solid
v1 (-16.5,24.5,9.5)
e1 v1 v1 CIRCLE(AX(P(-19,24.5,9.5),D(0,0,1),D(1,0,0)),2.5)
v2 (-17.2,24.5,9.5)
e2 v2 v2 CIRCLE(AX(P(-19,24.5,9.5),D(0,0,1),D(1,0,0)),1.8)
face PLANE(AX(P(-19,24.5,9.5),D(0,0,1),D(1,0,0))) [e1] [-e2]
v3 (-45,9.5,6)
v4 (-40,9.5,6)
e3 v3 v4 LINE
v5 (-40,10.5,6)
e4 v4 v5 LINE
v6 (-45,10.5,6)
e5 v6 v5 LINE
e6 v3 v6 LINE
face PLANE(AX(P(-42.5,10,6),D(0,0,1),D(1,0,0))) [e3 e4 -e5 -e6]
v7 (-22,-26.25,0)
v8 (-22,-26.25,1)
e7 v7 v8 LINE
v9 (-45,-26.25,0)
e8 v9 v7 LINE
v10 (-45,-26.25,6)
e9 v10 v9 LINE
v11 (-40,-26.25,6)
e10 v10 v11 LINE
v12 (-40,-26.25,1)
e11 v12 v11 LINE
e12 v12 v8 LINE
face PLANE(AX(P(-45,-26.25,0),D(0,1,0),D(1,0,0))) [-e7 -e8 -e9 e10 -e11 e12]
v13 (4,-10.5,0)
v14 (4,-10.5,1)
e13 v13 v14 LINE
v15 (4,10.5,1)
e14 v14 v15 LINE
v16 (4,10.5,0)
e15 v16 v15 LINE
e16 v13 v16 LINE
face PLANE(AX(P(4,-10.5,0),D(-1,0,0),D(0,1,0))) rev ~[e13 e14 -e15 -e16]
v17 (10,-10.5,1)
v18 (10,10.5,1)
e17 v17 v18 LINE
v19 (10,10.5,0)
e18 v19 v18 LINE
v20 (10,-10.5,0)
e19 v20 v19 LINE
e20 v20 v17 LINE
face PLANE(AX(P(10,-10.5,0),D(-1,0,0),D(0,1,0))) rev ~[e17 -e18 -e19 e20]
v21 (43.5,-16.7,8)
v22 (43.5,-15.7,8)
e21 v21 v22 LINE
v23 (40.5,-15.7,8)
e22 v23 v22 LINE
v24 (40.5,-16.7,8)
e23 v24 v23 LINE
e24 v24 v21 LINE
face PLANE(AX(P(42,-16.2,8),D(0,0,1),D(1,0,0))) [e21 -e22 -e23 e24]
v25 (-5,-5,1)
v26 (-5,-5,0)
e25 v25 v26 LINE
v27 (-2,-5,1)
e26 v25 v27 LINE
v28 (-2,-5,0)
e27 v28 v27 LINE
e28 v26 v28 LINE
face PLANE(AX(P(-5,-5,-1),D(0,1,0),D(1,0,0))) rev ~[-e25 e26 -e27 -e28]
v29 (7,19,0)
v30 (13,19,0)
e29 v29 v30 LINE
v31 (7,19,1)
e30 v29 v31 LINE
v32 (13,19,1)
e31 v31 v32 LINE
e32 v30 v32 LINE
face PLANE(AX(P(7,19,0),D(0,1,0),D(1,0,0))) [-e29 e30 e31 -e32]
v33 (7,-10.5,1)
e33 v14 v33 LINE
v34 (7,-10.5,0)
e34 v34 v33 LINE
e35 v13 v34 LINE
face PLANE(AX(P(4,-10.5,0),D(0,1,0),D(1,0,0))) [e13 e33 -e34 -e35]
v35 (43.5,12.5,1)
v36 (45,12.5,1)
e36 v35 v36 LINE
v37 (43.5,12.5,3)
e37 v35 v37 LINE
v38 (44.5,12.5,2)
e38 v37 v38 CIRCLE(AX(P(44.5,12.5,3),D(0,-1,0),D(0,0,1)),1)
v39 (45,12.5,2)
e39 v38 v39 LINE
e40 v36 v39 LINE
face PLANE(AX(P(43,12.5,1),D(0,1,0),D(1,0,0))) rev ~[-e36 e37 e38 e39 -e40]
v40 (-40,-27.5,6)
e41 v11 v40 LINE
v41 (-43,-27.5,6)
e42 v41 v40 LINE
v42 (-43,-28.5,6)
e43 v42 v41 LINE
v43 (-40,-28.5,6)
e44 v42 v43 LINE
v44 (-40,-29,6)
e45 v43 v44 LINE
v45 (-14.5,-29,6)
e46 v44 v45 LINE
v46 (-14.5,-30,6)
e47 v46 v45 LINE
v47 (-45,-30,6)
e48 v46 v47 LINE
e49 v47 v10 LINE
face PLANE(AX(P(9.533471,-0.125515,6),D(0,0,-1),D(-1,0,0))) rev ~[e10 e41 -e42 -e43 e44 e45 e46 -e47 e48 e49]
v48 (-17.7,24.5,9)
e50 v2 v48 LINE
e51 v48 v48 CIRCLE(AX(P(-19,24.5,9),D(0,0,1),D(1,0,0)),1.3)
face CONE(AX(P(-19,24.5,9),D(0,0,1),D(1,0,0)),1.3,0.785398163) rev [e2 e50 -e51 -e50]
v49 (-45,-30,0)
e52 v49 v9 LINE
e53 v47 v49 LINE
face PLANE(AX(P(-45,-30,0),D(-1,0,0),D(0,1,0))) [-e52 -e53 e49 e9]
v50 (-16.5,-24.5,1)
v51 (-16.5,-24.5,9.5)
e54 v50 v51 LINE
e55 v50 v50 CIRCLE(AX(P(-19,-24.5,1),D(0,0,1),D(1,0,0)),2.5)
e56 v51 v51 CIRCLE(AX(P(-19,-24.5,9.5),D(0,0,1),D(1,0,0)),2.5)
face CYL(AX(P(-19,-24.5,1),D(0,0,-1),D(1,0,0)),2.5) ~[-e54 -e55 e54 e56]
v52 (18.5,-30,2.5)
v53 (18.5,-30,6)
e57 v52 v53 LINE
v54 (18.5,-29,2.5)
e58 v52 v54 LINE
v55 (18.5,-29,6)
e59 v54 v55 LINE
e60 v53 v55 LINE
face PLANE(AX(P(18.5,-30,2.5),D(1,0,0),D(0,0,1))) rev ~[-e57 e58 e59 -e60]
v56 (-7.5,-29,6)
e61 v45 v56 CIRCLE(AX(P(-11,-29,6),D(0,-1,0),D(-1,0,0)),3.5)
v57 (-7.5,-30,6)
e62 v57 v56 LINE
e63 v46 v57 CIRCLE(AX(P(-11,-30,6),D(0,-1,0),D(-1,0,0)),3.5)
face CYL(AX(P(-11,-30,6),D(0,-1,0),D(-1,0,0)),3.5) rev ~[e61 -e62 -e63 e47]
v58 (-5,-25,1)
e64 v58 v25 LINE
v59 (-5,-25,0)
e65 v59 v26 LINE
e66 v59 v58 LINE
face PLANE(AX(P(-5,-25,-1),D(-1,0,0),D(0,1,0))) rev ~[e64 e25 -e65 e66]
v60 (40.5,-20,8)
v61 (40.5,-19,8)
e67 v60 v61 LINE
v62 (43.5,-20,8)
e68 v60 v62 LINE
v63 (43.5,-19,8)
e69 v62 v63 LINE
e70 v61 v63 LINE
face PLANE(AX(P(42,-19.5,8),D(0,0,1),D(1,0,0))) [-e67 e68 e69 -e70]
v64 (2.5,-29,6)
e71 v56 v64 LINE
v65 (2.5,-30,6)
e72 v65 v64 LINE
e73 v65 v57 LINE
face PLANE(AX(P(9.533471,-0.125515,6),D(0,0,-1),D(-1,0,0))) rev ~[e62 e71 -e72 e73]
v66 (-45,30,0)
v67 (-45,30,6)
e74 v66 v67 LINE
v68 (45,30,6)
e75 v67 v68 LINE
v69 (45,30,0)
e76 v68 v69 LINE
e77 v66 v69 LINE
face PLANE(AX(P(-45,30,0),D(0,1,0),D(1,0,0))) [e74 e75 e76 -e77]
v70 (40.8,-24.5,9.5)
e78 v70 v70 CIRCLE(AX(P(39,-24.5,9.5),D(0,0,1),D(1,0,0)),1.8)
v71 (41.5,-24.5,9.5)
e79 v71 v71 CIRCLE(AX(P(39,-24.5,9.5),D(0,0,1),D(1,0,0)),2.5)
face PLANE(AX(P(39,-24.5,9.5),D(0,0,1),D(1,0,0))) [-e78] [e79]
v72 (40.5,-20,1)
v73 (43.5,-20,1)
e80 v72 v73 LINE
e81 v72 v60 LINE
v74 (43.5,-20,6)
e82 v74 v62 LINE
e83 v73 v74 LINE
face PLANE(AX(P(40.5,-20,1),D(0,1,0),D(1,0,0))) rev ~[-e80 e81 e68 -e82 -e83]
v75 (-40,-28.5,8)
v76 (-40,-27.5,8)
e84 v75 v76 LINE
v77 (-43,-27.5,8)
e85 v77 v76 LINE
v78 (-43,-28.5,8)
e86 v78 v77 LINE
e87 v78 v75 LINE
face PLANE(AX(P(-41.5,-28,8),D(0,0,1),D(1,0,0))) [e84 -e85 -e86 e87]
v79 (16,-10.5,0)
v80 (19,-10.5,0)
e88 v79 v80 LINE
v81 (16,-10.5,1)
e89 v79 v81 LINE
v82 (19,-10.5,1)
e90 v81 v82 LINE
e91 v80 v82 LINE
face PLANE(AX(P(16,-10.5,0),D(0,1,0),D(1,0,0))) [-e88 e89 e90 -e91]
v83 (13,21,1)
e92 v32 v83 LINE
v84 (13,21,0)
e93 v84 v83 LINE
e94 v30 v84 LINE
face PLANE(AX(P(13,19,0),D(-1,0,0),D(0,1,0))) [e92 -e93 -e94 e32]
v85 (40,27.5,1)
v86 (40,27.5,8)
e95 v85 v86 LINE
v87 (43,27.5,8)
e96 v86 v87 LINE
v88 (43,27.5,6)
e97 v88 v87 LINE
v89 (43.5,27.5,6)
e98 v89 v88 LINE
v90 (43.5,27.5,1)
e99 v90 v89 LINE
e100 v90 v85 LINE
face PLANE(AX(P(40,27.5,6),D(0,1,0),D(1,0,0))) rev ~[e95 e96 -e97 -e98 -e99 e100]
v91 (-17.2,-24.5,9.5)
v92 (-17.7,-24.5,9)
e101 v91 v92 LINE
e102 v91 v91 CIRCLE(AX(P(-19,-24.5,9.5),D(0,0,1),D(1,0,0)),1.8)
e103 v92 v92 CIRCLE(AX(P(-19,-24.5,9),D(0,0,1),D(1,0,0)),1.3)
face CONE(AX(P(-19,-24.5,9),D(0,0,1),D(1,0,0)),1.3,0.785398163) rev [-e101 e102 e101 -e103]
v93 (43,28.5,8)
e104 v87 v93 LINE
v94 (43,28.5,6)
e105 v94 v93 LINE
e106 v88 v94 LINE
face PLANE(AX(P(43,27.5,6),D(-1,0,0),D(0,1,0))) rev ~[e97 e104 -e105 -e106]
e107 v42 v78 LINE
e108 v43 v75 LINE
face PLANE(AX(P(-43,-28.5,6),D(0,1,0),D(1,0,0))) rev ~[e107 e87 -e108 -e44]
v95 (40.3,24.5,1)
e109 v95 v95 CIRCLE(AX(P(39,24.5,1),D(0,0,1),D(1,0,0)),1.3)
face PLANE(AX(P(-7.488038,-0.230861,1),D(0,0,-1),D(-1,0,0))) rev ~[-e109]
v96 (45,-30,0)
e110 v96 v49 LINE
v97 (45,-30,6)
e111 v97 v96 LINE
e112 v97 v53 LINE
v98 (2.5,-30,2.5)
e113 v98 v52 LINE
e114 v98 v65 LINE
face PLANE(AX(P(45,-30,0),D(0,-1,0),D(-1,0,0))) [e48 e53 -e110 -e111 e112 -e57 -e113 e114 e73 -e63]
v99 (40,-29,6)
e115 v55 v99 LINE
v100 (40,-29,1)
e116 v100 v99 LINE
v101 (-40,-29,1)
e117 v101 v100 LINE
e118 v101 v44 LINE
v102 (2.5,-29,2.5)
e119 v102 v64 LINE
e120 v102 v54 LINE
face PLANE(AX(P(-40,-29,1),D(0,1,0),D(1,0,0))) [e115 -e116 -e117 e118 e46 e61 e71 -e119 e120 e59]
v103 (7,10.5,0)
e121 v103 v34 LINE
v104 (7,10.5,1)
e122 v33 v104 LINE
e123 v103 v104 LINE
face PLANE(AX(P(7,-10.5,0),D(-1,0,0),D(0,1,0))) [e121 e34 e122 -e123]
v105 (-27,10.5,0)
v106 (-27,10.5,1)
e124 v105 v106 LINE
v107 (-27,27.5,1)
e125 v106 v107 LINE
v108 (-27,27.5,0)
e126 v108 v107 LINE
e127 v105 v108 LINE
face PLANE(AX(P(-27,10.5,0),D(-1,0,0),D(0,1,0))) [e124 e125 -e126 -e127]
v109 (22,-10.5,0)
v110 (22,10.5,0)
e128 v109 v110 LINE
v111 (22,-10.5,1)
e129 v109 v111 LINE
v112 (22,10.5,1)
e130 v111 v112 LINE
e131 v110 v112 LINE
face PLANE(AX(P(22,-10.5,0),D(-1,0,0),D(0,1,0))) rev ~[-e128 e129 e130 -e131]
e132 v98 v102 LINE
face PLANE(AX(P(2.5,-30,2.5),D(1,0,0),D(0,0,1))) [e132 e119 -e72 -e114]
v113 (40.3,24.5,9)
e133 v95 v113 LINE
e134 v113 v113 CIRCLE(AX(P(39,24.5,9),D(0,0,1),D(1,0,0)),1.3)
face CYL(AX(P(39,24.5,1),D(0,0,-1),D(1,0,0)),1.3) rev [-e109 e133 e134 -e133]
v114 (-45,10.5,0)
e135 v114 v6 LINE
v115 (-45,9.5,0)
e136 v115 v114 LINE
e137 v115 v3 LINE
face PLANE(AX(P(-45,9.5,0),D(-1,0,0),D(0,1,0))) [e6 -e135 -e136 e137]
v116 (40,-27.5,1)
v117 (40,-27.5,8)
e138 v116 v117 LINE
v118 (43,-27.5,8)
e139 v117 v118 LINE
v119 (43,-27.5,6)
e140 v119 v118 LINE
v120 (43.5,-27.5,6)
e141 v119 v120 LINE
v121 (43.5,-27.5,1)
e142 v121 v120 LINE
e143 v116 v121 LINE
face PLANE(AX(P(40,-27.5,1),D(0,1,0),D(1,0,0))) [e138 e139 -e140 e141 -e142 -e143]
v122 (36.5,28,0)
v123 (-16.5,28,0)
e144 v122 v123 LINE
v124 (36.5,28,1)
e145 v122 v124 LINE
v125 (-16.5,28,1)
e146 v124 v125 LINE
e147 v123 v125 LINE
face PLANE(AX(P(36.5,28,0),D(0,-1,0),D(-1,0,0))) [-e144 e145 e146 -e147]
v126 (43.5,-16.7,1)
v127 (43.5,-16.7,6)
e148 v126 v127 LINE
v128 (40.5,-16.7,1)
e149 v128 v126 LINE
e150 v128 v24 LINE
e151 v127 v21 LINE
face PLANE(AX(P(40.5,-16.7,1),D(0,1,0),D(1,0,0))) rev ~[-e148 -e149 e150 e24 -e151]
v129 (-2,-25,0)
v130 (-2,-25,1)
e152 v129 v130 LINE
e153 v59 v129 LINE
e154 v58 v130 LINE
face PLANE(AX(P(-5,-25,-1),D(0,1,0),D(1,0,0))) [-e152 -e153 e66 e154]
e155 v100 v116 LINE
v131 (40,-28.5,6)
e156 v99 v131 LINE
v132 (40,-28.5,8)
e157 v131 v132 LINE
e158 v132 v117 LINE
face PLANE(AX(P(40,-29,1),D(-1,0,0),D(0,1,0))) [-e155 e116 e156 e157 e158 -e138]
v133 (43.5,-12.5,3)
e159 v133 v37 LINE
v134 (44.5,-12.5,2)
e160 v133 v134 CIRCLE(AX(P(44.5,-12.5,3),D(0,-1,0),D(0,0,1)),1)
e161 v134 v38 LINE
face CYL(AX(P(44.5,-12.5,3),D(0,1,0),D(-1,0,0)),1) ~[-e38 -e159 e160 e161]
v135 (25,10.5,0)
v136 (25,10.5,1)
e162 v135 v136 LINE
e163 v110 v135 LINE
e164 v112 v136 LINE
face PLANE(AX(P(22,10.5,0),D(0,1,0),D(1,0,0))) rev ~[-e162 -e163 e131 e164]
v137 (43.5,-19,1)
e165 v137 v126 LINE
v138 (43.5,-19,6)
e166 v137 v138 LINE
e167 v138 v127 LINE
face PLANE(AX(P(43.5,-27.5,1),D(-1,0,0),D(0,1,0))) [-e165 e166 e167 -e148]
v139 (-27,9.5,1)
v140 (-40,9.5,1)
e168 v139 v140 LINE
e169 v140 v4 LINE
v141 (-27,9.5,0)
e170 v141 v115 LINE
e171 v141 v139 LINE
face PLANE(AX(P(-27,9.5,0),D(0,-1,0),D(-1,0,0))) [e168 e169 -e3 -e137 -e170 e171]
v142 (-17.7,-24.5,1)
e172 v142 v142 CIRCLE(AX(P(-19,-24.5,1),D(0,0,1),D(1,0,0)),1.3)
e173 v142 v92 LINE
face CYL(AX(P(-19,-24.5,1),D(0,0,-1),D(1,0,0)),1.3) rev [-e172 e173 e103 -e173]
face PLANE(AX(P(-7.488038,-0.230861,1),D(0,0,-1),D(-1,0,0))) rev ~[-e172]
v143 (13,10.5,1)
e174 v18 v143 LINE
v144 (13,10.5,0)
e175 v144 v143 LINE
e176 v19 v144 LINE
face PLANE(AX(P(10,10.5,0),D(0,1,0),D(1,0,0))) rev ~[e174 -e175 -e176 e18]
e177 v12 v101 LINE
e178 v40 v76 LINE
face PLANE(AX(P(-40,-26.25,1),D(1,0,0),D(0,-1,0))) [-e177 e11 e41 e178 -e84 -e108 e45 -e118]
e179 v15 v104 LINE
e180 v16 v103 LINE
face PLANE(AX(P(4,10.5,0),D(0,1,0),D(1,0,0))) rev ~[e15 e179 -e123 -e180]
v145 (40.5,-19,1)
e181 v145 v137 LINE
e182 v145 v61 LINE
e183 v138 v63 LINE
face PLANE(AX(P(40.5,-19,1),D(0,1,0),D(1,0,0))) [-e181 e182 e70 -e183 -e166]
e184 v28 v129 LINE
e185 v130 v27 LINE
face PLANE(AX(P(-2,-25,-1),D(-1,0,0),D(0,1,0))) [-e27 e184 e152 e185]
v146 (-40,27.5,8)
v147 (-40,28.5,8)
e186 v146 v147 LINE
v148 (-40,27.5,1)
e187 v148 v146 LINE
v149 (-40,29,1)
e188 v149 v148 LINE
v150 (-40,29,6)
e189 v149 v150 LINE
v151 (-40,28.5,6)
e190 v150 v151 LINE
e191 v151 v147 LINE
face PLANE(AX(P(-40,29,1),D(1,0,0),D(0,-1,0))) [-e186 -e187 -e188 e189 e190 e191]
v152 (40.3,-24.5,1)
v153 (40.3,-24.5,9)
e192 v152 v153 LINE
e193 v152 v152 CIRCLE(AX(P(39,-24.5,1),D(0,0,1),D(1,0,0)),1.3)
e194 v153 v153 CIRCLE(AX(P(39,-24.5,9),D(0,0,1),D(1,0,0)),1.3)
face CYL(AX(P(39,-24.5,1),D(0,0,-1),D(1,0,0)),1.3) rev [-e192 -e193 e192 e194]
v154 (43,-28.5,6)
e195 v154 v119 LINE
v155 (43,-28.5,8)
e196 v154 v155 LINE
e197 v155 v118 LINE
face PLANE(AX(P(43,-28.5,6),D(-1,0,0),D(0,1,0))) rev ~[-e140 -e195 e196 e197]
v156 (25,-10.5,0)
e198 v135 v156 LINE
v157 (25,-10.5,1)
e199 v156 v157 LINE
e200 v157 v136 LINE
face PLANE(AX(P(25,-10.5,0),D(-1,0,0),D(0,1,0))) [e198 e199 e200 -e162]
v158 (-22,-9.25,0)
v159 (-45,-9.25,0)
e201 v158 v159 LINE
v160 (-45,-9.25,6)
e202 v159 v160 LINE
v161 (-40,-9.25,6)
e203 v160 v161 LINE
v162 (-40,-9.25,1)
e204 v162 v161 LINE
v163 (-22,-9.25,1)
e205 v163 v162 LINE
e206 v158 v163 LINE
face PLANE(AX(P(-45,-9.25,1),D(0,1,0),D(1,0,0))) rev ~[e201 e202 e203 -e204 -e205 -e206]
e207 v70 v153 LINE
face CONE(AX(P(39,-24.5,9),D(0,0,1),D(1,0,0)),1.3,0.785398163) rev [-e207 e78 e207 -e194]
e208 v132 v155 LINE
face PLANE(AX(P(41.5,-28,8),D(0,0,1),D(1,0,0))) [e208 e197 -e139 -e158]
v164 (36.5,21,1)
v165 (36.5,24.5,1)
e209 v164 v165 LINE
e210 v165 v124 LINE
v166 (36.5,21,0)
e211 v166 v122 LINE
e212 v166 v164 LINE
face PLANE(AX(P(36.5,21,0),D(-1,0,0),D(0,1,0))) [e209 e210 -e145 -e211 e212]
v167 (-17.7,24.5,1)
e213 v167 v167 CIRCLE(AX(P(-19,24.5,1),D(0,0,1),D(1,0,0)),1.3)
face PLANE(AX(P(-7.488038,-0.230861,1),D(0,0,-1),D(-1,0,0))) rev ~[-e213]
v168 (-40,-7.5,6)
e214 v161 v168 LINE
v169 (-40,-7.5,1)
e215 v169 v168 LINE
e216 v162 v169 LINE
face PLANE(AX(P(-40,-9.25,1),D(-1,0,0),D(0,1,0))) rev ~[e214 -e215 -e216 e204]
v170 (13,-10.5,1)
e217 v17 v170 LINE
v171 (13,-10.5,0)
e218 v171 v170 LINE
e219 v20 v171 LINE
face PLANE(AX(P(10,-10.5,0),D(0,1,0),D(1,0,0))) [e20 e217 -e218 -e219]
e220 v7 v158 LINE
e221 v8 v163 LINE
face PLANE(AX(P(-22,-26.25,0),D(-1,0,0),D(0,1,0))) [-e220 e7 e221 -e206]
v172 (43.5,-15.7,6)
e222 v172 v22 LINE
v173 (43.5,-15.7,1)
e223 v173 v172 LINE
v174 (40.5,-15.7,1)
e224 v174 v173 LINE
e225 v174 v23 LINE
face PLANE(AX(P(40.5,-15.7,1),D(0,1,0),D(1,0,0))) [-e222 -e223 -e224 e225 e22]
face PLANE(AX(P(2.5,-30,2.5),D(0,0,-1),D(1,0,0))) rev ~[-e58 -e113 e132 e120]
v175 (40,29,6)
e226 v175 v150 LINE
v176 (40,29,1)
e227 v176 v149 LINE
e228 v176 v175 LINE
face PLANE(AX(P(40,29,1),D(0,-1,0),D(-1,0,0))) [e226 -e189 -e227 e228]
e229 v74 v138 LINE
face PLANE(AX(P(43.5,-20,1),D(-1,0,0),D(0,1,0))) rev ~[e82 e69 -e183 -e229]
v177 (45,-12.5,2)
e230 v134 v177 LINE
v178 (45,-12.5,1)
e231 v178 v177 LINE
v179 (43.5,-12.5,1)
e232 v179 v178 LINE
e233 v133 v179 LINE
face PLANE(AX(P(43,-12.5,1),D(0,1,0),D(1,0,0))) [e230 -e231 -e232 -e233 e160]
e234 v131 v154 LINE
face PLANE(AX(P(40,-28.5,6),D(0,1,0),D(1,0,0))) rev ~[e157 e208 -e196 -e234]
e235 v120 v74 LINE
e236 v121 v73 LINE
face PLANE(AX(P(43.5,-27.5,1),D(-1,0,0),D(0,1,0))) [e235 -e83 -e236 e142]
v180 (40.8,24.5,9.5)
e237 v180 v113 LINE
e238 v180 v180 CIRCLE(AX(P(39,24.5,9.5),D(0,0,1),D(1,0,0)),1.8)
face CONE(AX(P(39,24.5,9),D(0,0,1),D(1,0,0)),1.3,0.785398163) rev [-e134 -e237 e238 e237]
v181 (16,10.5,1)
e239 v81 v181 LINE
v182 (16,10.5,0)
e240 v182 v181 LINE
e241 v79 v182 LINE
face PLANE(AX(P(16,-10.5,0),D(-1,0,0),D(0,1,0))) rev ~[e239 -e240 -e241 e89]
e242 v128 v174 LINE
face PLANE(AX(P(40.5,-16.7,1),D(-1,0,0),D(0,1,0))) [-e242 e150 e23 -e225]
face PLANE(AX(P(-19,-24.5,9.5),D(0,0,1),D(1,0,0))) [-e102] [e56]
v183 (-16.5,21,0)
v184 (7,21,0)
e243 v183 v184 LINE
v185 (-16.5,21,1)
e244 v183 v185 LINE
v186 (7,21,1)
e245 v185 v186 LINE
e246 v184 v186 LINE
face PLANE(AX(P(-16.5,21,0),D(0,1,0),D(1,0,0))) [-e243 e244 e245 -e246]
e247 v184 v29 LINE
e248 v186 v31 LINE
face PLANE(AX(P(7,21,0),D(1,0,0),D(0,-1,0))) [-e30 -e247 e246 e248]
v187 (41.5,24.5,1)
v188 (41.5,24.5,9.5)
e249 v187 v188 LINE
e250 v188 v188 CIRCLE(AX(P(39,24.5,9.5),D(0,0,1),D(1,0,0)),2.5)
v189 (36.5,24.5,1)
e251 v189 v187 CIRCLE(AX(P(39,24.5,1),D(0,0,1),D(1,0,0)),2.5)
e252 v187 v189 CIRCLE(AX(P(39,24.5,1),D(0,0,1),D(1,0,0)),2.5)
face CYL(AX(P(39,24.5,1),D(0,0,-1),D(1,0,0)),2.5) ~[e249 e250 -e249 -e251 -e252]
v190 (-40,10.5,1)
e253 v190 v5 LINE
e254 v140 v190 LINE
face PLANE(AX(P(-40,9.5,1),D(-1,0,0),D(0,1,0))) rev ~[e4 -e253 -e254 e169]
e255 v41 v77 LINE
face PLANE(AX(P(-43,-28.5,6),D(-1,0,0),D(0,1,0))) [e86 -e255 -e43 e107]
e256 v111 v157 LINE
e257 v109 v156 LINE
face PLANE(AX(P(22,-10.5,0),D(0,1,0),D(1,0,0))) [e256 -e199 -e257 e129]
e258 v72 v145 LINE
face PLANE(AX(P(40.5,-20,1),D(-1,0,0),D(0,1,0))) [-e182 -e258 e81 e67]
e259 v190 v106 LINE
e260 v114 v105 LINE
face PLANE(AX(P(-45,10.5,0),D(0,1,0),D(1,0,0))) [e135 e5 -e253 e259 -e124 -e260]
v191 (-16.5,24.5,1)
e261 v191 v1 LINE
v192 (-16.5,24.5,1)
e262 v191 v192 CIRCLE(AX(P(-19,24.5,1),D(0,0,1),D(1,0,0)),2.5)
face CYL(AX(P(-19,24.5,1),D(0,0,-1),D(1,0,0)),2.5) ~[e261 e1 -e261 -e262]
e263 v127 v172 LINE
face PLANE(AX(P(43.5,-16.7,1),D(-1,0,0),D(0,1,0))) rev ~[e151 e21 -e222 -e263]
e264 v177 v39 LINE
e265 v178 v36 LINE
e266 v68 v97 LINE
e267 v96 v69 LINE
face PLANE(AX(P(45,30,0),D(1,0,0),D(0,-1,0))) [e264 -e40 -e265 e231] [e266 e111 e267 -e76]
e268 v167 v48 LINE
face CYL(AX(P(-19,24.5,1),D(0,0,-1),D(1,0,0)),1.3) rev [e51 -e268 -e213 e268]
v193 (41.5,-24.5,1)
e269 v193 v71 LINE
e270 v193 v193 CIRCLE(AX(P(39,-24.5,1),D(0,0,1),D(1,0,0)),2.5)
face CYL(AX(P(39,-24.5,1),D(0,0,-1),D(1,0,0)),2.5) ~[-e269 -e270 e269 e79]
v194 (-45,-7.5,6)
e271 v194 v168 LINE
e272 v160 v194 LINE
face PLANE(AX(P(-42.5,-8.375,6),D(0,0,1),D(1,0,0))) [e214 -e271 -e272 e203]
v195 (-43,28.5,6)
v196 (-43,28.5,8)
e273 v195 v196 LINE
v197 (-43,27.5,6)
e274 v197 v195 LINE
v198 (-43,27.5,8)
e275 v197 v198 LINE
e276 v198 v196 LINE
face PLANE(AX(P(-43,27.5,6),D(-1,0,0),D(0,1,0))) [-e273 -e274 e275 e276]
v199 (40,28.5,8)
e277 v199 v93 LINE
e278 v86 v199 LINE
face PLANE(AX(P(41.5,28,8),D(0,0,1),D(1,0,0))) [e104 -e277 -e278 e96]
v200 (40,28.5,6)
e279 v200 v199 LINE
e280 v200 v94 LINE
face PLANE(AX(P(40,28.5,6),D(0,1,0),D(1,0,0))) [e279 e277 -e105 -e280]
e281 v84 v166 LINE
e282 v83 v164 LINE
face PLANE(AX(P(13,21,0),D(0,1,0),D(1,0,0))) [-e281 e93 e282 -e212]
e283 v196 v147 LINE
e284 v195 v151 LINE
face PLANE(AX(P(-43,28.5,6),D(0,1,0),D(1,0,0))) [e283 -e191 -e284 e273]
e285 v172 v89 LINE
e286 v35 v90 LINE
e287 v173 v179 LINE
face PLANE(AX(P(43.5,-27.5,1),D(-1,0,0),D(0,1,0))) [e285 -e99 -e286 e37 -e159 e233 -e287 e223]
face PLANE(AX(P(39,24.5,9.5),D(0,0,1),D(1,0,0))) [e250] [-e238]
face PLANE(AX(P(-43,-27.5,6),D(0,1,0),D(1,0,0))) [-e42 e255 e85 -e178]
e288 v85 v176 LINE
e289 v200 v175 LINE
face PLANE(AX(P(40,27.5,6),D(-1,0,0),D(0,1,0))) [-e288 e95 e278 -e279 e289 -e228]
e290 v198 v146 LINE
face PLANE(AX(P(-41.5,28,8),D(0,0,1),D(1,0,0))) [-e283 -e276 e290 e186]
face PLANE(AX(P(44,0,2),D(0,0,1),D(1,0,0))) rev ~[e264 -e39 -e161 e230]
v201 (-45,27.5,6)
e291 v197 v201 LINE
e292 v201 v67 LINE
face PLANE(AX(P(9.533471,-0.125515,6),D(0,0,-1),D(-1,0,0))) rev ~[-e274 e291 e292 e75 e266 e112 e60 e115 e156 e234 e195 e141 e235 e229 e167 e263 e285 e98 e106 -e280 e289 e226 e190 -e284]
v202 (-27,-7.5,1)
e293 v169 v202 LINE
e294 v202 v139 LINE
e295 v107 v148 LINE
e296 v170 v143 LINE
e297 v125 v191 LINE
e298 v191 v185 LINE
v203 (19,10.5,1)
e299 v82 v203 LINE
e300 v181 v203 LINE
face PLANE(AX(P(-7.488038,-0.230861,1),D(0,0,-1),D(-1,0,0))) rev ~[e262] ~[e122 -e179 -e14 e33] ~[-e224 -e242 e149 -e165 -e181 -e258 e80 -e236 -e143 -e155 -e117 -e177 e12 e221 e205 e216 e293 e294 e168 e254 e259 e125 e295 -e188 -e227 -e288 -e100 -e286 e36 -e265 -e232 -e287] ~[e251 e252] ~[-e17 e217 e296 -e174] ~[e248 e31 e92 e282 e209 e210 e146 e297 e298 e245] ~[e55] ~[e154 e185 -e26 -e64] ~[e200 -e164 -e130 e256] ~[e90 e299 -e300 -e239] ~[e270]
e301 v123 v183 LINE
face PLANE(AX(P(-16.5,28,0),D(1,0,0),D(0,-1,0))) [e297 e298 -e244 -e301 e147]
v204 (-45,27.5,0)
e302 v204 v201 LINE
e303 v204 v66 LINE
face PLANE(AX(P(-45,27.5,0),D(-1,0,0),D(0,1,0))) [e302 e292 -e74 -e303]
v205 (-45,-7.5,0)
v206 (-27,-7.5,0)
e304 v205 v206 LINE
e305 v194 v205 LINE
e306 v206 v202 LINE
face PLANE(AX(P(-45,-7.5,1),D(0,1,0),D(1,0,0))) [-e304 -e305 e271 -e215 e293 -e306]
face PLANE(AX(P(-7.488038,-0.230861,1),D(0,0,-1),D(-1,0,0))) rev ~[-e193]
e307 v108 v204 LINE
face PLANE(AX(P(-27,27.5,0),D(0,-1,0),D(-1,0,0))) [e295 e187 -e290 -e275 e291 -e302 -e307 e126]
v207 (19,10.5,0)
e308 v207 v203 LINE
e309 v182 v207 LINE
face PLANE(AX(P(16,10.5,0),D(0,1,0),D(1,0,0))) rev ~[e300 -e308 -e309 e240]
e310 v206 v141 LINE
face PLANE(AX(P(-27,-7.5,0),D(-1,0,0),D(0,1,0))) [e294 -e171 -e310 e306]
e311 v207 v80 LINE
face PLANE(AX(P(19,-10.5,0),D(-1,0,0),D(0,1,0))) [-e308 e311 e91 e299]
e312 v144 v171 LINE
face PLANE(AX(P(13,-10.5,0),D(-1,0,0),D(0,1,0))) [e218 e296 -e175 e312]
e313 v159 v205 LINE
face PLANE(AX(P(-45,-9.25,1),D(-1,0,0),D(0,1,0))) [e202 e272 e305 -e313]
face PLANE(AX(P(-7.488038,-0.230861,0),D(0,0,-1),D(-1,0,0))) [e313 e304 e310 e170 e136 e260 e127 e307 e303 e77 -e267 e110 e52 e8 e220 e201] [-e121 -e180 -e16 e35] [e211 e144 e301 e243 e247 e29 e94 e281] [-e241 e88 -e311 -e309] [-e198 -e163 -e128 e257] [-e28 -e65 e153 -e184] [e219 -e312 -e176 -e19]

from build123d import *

# Parameters (mm, degrees)
BOX002_W      = 3
BOX002_H      = 20
BOX002_DEPTH  = 5
BOX001_W      = 51
BOX001_H      = 20
BOX001_DEPTH  = 1
BOX_W         = 2
BOX_H         = 25
BOX_DEPTH     = 1
SKETCH_W      = 3
SKETCH_H      = 21
PAD_DEPTH     = 1
SKETCH001_W   = 5
SKETCH001_H   = 1.75
SKETCH001_H_2 = 1
PAD001_DEPTH  = 5
SKETCH002_W   = 3
SKETCH002_H   = 1
PAD002_DEPTH  = 2
SKETCH003_R   = 2.5
SKETCH003_R_2 = 1.3
PAD003_DEPTH  = 8.5
SKETCH004_W   = 16
SKETCH004_H   = 3.5
POCKET_DEPTH  = 1
CHAMFER_SIZE  = 0.5
SKETCH005_W   = 3
SKETCH005_H   = 1
PAD004_DEPTH  = 7
FILLET_R      = 1


with BuildPart() as w_rfel002:
    # Box002 → Box002 (new body)
    with BuildSketch(Plane(origin=(-5, -25, -1), x_dir=(1, 0, 0), z_dir=(0, 0, 1))):
        with Locations((1.5, 10)):
            Rectangle(BOX002_W, BOX002_H)
    extrude(amount=BOX002_DEPTH)


with BuildPart() as wire_channel:
    # Box001 → Box001 (new body)
    with BuildSketch(Plane(origin=(-5, -25, -1), x_dir=(1, 0, 0), z_dir=(0, 0, 1))):
        with Locations((25.5, 10)):
            Rectangle(BOX001_W, BOX001_H)
    extrude(amount=BOX001_DEPTH)

    # Fusion: union Würfel002
    add(w_rfel002.part)


with BuildPart() as w_rfel:
    # Box → Box (new body)
    with BuildSketch(Plane(origin=(43, -12.5, 1), x_dir=(1, 0, 0), z_dir=(0, 0, 1))):
        with Locations((1, 12.5)):
            Rectangle(BOX_W, BOX_H)
    extrude(amount=BOX_DEPTH)


with BuildPart() as cut001:
    # Sketch → Pad (new body)
    with BuildSketch(Plane.XY):
        Polygon((-45, 30), (45, 30), (45, -30), (-45, -30), (-45, -26.25), (-22, -26.25), (-22, -9.25), (-45, -9.25), (-45, -7.5), (-27, -7.5), (-27, 9.5), (-45, 9.5), (-45, 10.5), (-27, 10.5), (-27, 27.5), (-45, 27.5), align=None)
        Polygon((36.5, 21), (36.5, 28), (-16.5, 28), (-16.5, 21), (7, 21), (7, 19), (13, 19), (13, 21), align=None, mode=Mode.SUBTRACT)
        with Locations((5.5, 0)):
            Rectangle(SKETCH_W, SKETCH_H, mode=Mode.SUBTRACT)
        with Locations((11.5, 0)):
            Rectangle(SKETCH_W, SKETCH_H, mode=Mode.SUBTRACT)
        with Locations((17.5, 0)):
            Rectangle(SKETCH_W, SKETCH_H, mode=Mode.SUBTRACT)
        with Locations((23.5, 0)):
            Rectangle(SKETCH_W, SKETCH_H, mode=Mode.SUBTRACT)
    extrude(amount=PAD_DEPTH)

    # Sketch001 (on Face42 of Pad) → Pad001 (new body)
    with BuildSketch(Plane.XY.offset(1)):
        with Locations((-42.5, -8.375)):
            Rectangle(SKETCH001_W, SKETCH001_H)
        with Locations((-42.5, 10)):
            Rectangle(SKETCH001_W, SKETCH001_H_2)
        Polygon((-45, 30), (45, 30), (45, -30), (-45, -30), (-45, -26.25), (-40, -26.25), (-40, -29), (40, -29), (40, -27.5), (43.5, -27.5), (43.5, 27.5), (40, 27.5), (40, 29), (-40, 29), (-40, 27.5), (-45, 27.5), align=None)
    extrude(amount=PAD001_DEPTH)

    # Sketch002 (on Face56 of Pad001) → Pad002 (new body)
    with BuildSketch(Plane.XY.offset(6)):
        with Locations((41.5, 28)):
            Rectangle(SKETCH002_W, SKETCH002_H)
        with Locations((-41.5, 28)):
            Rectangle(SKETCH002_W, SKETCH002_H)
        with Locations((-41.5, -28)):
            Rectangle(SKETCH002_W, SKETCH002_H)
        with Locations((41.5, -28)):
            Rectangle(SKETCH002_W, SKETCH002_H)
    extrude(amount=PAD002_DEPTH)

    # Sketch003 (on Face47 of Pad002) → Pad003 (new body)
    with BuildSketch(Plane.XY.offset(1)):
        with Locations((-19, 24.5)):
            Circle(SKETCH003_R)
        with Locations((-19, 24.5)):
            Circle(SKETCH003_R_2, mode=Mode.SUBTRACT)
        with Locations((39, 24.5)):
            Circle(SKETCH003_R)
        with Locations((39, 24.5)):
            Circle(SKETCH003_R_2, mode=Mode.SUBTRACT)
        with Locations((-19, -24.5)):
            Circle(SKETCH003_R)
        with Locations((-19, -24.5)):
            Circle(SKETCH003_R_2, mode=Mode.SUBTRACT)
        with Locations((39, -24.5)):
            Circle(SKETCH003_R)
        with Locations((39, -24.5)):
            Circle(SKETCH003_R_2, mode=Mode.SUBTRACT)
    extrude(amount=PAD003_DEPTH)

    # Sketch004 (on Face45 of Pad003) → Pocket (cut)
    with BuildSketch(Plane.XZ.offset(30)):
        with BuildLine():
            ThreePointArc((-14.5, 6), (-11, 2.5), (-7.5, 6))
            Line((-14.5, 6), (-7.5, 6))
        make_face()
        with Locations((10.5, 4.25)):
            Rectangle(SKETCH004_W, SKETCH004_H)
    extrude(amount=-POCKET_DEPTH, mode=Mode.SUBTRACT)

    # Chamfer
    chamfer_edges = [cut001.edges().sort_by_distance(p)[0] for p in [
        (-20.3, 24.5, 9.5),
        (37.7, 24.5, 9.5),
        (37.7, -24.5, 9.5),
        (-20.3, -24.5, 9.5),
    ]]
    chamfer(chamfer_edges, length=CHAMFER_SIZE)

    # Sketch005 (on Face5 of Chamfer) → Pad004 (new body)
    with BuildSketch(Plane.XY.offset(1)):
        with Locations((42, -16.2)):
            Rectangle(SKETCH005_W, SKETCH005_H)
        with Locations((42, -19.5)):
            Rectangle(SKETCH005_W, SKETCH005_H)
    extrude(amount=PAD004_DEPTH)

    # Cut: cut Würfel
    add(w_rfel.part, mode=Mode.SUBTRACT)

    # Fillet
    fillet_edges = [cut001.edges().sort_by_distance(p)[0] for p in [
        (43.5, 0, 2),
    ]]
    fillet(fillet_edges, radius=FILLET_R)

    # Cut001: cut wire channel
    add(wire_channel.part, mode=Mode.SUBTRACT)


solid = cut001.part
